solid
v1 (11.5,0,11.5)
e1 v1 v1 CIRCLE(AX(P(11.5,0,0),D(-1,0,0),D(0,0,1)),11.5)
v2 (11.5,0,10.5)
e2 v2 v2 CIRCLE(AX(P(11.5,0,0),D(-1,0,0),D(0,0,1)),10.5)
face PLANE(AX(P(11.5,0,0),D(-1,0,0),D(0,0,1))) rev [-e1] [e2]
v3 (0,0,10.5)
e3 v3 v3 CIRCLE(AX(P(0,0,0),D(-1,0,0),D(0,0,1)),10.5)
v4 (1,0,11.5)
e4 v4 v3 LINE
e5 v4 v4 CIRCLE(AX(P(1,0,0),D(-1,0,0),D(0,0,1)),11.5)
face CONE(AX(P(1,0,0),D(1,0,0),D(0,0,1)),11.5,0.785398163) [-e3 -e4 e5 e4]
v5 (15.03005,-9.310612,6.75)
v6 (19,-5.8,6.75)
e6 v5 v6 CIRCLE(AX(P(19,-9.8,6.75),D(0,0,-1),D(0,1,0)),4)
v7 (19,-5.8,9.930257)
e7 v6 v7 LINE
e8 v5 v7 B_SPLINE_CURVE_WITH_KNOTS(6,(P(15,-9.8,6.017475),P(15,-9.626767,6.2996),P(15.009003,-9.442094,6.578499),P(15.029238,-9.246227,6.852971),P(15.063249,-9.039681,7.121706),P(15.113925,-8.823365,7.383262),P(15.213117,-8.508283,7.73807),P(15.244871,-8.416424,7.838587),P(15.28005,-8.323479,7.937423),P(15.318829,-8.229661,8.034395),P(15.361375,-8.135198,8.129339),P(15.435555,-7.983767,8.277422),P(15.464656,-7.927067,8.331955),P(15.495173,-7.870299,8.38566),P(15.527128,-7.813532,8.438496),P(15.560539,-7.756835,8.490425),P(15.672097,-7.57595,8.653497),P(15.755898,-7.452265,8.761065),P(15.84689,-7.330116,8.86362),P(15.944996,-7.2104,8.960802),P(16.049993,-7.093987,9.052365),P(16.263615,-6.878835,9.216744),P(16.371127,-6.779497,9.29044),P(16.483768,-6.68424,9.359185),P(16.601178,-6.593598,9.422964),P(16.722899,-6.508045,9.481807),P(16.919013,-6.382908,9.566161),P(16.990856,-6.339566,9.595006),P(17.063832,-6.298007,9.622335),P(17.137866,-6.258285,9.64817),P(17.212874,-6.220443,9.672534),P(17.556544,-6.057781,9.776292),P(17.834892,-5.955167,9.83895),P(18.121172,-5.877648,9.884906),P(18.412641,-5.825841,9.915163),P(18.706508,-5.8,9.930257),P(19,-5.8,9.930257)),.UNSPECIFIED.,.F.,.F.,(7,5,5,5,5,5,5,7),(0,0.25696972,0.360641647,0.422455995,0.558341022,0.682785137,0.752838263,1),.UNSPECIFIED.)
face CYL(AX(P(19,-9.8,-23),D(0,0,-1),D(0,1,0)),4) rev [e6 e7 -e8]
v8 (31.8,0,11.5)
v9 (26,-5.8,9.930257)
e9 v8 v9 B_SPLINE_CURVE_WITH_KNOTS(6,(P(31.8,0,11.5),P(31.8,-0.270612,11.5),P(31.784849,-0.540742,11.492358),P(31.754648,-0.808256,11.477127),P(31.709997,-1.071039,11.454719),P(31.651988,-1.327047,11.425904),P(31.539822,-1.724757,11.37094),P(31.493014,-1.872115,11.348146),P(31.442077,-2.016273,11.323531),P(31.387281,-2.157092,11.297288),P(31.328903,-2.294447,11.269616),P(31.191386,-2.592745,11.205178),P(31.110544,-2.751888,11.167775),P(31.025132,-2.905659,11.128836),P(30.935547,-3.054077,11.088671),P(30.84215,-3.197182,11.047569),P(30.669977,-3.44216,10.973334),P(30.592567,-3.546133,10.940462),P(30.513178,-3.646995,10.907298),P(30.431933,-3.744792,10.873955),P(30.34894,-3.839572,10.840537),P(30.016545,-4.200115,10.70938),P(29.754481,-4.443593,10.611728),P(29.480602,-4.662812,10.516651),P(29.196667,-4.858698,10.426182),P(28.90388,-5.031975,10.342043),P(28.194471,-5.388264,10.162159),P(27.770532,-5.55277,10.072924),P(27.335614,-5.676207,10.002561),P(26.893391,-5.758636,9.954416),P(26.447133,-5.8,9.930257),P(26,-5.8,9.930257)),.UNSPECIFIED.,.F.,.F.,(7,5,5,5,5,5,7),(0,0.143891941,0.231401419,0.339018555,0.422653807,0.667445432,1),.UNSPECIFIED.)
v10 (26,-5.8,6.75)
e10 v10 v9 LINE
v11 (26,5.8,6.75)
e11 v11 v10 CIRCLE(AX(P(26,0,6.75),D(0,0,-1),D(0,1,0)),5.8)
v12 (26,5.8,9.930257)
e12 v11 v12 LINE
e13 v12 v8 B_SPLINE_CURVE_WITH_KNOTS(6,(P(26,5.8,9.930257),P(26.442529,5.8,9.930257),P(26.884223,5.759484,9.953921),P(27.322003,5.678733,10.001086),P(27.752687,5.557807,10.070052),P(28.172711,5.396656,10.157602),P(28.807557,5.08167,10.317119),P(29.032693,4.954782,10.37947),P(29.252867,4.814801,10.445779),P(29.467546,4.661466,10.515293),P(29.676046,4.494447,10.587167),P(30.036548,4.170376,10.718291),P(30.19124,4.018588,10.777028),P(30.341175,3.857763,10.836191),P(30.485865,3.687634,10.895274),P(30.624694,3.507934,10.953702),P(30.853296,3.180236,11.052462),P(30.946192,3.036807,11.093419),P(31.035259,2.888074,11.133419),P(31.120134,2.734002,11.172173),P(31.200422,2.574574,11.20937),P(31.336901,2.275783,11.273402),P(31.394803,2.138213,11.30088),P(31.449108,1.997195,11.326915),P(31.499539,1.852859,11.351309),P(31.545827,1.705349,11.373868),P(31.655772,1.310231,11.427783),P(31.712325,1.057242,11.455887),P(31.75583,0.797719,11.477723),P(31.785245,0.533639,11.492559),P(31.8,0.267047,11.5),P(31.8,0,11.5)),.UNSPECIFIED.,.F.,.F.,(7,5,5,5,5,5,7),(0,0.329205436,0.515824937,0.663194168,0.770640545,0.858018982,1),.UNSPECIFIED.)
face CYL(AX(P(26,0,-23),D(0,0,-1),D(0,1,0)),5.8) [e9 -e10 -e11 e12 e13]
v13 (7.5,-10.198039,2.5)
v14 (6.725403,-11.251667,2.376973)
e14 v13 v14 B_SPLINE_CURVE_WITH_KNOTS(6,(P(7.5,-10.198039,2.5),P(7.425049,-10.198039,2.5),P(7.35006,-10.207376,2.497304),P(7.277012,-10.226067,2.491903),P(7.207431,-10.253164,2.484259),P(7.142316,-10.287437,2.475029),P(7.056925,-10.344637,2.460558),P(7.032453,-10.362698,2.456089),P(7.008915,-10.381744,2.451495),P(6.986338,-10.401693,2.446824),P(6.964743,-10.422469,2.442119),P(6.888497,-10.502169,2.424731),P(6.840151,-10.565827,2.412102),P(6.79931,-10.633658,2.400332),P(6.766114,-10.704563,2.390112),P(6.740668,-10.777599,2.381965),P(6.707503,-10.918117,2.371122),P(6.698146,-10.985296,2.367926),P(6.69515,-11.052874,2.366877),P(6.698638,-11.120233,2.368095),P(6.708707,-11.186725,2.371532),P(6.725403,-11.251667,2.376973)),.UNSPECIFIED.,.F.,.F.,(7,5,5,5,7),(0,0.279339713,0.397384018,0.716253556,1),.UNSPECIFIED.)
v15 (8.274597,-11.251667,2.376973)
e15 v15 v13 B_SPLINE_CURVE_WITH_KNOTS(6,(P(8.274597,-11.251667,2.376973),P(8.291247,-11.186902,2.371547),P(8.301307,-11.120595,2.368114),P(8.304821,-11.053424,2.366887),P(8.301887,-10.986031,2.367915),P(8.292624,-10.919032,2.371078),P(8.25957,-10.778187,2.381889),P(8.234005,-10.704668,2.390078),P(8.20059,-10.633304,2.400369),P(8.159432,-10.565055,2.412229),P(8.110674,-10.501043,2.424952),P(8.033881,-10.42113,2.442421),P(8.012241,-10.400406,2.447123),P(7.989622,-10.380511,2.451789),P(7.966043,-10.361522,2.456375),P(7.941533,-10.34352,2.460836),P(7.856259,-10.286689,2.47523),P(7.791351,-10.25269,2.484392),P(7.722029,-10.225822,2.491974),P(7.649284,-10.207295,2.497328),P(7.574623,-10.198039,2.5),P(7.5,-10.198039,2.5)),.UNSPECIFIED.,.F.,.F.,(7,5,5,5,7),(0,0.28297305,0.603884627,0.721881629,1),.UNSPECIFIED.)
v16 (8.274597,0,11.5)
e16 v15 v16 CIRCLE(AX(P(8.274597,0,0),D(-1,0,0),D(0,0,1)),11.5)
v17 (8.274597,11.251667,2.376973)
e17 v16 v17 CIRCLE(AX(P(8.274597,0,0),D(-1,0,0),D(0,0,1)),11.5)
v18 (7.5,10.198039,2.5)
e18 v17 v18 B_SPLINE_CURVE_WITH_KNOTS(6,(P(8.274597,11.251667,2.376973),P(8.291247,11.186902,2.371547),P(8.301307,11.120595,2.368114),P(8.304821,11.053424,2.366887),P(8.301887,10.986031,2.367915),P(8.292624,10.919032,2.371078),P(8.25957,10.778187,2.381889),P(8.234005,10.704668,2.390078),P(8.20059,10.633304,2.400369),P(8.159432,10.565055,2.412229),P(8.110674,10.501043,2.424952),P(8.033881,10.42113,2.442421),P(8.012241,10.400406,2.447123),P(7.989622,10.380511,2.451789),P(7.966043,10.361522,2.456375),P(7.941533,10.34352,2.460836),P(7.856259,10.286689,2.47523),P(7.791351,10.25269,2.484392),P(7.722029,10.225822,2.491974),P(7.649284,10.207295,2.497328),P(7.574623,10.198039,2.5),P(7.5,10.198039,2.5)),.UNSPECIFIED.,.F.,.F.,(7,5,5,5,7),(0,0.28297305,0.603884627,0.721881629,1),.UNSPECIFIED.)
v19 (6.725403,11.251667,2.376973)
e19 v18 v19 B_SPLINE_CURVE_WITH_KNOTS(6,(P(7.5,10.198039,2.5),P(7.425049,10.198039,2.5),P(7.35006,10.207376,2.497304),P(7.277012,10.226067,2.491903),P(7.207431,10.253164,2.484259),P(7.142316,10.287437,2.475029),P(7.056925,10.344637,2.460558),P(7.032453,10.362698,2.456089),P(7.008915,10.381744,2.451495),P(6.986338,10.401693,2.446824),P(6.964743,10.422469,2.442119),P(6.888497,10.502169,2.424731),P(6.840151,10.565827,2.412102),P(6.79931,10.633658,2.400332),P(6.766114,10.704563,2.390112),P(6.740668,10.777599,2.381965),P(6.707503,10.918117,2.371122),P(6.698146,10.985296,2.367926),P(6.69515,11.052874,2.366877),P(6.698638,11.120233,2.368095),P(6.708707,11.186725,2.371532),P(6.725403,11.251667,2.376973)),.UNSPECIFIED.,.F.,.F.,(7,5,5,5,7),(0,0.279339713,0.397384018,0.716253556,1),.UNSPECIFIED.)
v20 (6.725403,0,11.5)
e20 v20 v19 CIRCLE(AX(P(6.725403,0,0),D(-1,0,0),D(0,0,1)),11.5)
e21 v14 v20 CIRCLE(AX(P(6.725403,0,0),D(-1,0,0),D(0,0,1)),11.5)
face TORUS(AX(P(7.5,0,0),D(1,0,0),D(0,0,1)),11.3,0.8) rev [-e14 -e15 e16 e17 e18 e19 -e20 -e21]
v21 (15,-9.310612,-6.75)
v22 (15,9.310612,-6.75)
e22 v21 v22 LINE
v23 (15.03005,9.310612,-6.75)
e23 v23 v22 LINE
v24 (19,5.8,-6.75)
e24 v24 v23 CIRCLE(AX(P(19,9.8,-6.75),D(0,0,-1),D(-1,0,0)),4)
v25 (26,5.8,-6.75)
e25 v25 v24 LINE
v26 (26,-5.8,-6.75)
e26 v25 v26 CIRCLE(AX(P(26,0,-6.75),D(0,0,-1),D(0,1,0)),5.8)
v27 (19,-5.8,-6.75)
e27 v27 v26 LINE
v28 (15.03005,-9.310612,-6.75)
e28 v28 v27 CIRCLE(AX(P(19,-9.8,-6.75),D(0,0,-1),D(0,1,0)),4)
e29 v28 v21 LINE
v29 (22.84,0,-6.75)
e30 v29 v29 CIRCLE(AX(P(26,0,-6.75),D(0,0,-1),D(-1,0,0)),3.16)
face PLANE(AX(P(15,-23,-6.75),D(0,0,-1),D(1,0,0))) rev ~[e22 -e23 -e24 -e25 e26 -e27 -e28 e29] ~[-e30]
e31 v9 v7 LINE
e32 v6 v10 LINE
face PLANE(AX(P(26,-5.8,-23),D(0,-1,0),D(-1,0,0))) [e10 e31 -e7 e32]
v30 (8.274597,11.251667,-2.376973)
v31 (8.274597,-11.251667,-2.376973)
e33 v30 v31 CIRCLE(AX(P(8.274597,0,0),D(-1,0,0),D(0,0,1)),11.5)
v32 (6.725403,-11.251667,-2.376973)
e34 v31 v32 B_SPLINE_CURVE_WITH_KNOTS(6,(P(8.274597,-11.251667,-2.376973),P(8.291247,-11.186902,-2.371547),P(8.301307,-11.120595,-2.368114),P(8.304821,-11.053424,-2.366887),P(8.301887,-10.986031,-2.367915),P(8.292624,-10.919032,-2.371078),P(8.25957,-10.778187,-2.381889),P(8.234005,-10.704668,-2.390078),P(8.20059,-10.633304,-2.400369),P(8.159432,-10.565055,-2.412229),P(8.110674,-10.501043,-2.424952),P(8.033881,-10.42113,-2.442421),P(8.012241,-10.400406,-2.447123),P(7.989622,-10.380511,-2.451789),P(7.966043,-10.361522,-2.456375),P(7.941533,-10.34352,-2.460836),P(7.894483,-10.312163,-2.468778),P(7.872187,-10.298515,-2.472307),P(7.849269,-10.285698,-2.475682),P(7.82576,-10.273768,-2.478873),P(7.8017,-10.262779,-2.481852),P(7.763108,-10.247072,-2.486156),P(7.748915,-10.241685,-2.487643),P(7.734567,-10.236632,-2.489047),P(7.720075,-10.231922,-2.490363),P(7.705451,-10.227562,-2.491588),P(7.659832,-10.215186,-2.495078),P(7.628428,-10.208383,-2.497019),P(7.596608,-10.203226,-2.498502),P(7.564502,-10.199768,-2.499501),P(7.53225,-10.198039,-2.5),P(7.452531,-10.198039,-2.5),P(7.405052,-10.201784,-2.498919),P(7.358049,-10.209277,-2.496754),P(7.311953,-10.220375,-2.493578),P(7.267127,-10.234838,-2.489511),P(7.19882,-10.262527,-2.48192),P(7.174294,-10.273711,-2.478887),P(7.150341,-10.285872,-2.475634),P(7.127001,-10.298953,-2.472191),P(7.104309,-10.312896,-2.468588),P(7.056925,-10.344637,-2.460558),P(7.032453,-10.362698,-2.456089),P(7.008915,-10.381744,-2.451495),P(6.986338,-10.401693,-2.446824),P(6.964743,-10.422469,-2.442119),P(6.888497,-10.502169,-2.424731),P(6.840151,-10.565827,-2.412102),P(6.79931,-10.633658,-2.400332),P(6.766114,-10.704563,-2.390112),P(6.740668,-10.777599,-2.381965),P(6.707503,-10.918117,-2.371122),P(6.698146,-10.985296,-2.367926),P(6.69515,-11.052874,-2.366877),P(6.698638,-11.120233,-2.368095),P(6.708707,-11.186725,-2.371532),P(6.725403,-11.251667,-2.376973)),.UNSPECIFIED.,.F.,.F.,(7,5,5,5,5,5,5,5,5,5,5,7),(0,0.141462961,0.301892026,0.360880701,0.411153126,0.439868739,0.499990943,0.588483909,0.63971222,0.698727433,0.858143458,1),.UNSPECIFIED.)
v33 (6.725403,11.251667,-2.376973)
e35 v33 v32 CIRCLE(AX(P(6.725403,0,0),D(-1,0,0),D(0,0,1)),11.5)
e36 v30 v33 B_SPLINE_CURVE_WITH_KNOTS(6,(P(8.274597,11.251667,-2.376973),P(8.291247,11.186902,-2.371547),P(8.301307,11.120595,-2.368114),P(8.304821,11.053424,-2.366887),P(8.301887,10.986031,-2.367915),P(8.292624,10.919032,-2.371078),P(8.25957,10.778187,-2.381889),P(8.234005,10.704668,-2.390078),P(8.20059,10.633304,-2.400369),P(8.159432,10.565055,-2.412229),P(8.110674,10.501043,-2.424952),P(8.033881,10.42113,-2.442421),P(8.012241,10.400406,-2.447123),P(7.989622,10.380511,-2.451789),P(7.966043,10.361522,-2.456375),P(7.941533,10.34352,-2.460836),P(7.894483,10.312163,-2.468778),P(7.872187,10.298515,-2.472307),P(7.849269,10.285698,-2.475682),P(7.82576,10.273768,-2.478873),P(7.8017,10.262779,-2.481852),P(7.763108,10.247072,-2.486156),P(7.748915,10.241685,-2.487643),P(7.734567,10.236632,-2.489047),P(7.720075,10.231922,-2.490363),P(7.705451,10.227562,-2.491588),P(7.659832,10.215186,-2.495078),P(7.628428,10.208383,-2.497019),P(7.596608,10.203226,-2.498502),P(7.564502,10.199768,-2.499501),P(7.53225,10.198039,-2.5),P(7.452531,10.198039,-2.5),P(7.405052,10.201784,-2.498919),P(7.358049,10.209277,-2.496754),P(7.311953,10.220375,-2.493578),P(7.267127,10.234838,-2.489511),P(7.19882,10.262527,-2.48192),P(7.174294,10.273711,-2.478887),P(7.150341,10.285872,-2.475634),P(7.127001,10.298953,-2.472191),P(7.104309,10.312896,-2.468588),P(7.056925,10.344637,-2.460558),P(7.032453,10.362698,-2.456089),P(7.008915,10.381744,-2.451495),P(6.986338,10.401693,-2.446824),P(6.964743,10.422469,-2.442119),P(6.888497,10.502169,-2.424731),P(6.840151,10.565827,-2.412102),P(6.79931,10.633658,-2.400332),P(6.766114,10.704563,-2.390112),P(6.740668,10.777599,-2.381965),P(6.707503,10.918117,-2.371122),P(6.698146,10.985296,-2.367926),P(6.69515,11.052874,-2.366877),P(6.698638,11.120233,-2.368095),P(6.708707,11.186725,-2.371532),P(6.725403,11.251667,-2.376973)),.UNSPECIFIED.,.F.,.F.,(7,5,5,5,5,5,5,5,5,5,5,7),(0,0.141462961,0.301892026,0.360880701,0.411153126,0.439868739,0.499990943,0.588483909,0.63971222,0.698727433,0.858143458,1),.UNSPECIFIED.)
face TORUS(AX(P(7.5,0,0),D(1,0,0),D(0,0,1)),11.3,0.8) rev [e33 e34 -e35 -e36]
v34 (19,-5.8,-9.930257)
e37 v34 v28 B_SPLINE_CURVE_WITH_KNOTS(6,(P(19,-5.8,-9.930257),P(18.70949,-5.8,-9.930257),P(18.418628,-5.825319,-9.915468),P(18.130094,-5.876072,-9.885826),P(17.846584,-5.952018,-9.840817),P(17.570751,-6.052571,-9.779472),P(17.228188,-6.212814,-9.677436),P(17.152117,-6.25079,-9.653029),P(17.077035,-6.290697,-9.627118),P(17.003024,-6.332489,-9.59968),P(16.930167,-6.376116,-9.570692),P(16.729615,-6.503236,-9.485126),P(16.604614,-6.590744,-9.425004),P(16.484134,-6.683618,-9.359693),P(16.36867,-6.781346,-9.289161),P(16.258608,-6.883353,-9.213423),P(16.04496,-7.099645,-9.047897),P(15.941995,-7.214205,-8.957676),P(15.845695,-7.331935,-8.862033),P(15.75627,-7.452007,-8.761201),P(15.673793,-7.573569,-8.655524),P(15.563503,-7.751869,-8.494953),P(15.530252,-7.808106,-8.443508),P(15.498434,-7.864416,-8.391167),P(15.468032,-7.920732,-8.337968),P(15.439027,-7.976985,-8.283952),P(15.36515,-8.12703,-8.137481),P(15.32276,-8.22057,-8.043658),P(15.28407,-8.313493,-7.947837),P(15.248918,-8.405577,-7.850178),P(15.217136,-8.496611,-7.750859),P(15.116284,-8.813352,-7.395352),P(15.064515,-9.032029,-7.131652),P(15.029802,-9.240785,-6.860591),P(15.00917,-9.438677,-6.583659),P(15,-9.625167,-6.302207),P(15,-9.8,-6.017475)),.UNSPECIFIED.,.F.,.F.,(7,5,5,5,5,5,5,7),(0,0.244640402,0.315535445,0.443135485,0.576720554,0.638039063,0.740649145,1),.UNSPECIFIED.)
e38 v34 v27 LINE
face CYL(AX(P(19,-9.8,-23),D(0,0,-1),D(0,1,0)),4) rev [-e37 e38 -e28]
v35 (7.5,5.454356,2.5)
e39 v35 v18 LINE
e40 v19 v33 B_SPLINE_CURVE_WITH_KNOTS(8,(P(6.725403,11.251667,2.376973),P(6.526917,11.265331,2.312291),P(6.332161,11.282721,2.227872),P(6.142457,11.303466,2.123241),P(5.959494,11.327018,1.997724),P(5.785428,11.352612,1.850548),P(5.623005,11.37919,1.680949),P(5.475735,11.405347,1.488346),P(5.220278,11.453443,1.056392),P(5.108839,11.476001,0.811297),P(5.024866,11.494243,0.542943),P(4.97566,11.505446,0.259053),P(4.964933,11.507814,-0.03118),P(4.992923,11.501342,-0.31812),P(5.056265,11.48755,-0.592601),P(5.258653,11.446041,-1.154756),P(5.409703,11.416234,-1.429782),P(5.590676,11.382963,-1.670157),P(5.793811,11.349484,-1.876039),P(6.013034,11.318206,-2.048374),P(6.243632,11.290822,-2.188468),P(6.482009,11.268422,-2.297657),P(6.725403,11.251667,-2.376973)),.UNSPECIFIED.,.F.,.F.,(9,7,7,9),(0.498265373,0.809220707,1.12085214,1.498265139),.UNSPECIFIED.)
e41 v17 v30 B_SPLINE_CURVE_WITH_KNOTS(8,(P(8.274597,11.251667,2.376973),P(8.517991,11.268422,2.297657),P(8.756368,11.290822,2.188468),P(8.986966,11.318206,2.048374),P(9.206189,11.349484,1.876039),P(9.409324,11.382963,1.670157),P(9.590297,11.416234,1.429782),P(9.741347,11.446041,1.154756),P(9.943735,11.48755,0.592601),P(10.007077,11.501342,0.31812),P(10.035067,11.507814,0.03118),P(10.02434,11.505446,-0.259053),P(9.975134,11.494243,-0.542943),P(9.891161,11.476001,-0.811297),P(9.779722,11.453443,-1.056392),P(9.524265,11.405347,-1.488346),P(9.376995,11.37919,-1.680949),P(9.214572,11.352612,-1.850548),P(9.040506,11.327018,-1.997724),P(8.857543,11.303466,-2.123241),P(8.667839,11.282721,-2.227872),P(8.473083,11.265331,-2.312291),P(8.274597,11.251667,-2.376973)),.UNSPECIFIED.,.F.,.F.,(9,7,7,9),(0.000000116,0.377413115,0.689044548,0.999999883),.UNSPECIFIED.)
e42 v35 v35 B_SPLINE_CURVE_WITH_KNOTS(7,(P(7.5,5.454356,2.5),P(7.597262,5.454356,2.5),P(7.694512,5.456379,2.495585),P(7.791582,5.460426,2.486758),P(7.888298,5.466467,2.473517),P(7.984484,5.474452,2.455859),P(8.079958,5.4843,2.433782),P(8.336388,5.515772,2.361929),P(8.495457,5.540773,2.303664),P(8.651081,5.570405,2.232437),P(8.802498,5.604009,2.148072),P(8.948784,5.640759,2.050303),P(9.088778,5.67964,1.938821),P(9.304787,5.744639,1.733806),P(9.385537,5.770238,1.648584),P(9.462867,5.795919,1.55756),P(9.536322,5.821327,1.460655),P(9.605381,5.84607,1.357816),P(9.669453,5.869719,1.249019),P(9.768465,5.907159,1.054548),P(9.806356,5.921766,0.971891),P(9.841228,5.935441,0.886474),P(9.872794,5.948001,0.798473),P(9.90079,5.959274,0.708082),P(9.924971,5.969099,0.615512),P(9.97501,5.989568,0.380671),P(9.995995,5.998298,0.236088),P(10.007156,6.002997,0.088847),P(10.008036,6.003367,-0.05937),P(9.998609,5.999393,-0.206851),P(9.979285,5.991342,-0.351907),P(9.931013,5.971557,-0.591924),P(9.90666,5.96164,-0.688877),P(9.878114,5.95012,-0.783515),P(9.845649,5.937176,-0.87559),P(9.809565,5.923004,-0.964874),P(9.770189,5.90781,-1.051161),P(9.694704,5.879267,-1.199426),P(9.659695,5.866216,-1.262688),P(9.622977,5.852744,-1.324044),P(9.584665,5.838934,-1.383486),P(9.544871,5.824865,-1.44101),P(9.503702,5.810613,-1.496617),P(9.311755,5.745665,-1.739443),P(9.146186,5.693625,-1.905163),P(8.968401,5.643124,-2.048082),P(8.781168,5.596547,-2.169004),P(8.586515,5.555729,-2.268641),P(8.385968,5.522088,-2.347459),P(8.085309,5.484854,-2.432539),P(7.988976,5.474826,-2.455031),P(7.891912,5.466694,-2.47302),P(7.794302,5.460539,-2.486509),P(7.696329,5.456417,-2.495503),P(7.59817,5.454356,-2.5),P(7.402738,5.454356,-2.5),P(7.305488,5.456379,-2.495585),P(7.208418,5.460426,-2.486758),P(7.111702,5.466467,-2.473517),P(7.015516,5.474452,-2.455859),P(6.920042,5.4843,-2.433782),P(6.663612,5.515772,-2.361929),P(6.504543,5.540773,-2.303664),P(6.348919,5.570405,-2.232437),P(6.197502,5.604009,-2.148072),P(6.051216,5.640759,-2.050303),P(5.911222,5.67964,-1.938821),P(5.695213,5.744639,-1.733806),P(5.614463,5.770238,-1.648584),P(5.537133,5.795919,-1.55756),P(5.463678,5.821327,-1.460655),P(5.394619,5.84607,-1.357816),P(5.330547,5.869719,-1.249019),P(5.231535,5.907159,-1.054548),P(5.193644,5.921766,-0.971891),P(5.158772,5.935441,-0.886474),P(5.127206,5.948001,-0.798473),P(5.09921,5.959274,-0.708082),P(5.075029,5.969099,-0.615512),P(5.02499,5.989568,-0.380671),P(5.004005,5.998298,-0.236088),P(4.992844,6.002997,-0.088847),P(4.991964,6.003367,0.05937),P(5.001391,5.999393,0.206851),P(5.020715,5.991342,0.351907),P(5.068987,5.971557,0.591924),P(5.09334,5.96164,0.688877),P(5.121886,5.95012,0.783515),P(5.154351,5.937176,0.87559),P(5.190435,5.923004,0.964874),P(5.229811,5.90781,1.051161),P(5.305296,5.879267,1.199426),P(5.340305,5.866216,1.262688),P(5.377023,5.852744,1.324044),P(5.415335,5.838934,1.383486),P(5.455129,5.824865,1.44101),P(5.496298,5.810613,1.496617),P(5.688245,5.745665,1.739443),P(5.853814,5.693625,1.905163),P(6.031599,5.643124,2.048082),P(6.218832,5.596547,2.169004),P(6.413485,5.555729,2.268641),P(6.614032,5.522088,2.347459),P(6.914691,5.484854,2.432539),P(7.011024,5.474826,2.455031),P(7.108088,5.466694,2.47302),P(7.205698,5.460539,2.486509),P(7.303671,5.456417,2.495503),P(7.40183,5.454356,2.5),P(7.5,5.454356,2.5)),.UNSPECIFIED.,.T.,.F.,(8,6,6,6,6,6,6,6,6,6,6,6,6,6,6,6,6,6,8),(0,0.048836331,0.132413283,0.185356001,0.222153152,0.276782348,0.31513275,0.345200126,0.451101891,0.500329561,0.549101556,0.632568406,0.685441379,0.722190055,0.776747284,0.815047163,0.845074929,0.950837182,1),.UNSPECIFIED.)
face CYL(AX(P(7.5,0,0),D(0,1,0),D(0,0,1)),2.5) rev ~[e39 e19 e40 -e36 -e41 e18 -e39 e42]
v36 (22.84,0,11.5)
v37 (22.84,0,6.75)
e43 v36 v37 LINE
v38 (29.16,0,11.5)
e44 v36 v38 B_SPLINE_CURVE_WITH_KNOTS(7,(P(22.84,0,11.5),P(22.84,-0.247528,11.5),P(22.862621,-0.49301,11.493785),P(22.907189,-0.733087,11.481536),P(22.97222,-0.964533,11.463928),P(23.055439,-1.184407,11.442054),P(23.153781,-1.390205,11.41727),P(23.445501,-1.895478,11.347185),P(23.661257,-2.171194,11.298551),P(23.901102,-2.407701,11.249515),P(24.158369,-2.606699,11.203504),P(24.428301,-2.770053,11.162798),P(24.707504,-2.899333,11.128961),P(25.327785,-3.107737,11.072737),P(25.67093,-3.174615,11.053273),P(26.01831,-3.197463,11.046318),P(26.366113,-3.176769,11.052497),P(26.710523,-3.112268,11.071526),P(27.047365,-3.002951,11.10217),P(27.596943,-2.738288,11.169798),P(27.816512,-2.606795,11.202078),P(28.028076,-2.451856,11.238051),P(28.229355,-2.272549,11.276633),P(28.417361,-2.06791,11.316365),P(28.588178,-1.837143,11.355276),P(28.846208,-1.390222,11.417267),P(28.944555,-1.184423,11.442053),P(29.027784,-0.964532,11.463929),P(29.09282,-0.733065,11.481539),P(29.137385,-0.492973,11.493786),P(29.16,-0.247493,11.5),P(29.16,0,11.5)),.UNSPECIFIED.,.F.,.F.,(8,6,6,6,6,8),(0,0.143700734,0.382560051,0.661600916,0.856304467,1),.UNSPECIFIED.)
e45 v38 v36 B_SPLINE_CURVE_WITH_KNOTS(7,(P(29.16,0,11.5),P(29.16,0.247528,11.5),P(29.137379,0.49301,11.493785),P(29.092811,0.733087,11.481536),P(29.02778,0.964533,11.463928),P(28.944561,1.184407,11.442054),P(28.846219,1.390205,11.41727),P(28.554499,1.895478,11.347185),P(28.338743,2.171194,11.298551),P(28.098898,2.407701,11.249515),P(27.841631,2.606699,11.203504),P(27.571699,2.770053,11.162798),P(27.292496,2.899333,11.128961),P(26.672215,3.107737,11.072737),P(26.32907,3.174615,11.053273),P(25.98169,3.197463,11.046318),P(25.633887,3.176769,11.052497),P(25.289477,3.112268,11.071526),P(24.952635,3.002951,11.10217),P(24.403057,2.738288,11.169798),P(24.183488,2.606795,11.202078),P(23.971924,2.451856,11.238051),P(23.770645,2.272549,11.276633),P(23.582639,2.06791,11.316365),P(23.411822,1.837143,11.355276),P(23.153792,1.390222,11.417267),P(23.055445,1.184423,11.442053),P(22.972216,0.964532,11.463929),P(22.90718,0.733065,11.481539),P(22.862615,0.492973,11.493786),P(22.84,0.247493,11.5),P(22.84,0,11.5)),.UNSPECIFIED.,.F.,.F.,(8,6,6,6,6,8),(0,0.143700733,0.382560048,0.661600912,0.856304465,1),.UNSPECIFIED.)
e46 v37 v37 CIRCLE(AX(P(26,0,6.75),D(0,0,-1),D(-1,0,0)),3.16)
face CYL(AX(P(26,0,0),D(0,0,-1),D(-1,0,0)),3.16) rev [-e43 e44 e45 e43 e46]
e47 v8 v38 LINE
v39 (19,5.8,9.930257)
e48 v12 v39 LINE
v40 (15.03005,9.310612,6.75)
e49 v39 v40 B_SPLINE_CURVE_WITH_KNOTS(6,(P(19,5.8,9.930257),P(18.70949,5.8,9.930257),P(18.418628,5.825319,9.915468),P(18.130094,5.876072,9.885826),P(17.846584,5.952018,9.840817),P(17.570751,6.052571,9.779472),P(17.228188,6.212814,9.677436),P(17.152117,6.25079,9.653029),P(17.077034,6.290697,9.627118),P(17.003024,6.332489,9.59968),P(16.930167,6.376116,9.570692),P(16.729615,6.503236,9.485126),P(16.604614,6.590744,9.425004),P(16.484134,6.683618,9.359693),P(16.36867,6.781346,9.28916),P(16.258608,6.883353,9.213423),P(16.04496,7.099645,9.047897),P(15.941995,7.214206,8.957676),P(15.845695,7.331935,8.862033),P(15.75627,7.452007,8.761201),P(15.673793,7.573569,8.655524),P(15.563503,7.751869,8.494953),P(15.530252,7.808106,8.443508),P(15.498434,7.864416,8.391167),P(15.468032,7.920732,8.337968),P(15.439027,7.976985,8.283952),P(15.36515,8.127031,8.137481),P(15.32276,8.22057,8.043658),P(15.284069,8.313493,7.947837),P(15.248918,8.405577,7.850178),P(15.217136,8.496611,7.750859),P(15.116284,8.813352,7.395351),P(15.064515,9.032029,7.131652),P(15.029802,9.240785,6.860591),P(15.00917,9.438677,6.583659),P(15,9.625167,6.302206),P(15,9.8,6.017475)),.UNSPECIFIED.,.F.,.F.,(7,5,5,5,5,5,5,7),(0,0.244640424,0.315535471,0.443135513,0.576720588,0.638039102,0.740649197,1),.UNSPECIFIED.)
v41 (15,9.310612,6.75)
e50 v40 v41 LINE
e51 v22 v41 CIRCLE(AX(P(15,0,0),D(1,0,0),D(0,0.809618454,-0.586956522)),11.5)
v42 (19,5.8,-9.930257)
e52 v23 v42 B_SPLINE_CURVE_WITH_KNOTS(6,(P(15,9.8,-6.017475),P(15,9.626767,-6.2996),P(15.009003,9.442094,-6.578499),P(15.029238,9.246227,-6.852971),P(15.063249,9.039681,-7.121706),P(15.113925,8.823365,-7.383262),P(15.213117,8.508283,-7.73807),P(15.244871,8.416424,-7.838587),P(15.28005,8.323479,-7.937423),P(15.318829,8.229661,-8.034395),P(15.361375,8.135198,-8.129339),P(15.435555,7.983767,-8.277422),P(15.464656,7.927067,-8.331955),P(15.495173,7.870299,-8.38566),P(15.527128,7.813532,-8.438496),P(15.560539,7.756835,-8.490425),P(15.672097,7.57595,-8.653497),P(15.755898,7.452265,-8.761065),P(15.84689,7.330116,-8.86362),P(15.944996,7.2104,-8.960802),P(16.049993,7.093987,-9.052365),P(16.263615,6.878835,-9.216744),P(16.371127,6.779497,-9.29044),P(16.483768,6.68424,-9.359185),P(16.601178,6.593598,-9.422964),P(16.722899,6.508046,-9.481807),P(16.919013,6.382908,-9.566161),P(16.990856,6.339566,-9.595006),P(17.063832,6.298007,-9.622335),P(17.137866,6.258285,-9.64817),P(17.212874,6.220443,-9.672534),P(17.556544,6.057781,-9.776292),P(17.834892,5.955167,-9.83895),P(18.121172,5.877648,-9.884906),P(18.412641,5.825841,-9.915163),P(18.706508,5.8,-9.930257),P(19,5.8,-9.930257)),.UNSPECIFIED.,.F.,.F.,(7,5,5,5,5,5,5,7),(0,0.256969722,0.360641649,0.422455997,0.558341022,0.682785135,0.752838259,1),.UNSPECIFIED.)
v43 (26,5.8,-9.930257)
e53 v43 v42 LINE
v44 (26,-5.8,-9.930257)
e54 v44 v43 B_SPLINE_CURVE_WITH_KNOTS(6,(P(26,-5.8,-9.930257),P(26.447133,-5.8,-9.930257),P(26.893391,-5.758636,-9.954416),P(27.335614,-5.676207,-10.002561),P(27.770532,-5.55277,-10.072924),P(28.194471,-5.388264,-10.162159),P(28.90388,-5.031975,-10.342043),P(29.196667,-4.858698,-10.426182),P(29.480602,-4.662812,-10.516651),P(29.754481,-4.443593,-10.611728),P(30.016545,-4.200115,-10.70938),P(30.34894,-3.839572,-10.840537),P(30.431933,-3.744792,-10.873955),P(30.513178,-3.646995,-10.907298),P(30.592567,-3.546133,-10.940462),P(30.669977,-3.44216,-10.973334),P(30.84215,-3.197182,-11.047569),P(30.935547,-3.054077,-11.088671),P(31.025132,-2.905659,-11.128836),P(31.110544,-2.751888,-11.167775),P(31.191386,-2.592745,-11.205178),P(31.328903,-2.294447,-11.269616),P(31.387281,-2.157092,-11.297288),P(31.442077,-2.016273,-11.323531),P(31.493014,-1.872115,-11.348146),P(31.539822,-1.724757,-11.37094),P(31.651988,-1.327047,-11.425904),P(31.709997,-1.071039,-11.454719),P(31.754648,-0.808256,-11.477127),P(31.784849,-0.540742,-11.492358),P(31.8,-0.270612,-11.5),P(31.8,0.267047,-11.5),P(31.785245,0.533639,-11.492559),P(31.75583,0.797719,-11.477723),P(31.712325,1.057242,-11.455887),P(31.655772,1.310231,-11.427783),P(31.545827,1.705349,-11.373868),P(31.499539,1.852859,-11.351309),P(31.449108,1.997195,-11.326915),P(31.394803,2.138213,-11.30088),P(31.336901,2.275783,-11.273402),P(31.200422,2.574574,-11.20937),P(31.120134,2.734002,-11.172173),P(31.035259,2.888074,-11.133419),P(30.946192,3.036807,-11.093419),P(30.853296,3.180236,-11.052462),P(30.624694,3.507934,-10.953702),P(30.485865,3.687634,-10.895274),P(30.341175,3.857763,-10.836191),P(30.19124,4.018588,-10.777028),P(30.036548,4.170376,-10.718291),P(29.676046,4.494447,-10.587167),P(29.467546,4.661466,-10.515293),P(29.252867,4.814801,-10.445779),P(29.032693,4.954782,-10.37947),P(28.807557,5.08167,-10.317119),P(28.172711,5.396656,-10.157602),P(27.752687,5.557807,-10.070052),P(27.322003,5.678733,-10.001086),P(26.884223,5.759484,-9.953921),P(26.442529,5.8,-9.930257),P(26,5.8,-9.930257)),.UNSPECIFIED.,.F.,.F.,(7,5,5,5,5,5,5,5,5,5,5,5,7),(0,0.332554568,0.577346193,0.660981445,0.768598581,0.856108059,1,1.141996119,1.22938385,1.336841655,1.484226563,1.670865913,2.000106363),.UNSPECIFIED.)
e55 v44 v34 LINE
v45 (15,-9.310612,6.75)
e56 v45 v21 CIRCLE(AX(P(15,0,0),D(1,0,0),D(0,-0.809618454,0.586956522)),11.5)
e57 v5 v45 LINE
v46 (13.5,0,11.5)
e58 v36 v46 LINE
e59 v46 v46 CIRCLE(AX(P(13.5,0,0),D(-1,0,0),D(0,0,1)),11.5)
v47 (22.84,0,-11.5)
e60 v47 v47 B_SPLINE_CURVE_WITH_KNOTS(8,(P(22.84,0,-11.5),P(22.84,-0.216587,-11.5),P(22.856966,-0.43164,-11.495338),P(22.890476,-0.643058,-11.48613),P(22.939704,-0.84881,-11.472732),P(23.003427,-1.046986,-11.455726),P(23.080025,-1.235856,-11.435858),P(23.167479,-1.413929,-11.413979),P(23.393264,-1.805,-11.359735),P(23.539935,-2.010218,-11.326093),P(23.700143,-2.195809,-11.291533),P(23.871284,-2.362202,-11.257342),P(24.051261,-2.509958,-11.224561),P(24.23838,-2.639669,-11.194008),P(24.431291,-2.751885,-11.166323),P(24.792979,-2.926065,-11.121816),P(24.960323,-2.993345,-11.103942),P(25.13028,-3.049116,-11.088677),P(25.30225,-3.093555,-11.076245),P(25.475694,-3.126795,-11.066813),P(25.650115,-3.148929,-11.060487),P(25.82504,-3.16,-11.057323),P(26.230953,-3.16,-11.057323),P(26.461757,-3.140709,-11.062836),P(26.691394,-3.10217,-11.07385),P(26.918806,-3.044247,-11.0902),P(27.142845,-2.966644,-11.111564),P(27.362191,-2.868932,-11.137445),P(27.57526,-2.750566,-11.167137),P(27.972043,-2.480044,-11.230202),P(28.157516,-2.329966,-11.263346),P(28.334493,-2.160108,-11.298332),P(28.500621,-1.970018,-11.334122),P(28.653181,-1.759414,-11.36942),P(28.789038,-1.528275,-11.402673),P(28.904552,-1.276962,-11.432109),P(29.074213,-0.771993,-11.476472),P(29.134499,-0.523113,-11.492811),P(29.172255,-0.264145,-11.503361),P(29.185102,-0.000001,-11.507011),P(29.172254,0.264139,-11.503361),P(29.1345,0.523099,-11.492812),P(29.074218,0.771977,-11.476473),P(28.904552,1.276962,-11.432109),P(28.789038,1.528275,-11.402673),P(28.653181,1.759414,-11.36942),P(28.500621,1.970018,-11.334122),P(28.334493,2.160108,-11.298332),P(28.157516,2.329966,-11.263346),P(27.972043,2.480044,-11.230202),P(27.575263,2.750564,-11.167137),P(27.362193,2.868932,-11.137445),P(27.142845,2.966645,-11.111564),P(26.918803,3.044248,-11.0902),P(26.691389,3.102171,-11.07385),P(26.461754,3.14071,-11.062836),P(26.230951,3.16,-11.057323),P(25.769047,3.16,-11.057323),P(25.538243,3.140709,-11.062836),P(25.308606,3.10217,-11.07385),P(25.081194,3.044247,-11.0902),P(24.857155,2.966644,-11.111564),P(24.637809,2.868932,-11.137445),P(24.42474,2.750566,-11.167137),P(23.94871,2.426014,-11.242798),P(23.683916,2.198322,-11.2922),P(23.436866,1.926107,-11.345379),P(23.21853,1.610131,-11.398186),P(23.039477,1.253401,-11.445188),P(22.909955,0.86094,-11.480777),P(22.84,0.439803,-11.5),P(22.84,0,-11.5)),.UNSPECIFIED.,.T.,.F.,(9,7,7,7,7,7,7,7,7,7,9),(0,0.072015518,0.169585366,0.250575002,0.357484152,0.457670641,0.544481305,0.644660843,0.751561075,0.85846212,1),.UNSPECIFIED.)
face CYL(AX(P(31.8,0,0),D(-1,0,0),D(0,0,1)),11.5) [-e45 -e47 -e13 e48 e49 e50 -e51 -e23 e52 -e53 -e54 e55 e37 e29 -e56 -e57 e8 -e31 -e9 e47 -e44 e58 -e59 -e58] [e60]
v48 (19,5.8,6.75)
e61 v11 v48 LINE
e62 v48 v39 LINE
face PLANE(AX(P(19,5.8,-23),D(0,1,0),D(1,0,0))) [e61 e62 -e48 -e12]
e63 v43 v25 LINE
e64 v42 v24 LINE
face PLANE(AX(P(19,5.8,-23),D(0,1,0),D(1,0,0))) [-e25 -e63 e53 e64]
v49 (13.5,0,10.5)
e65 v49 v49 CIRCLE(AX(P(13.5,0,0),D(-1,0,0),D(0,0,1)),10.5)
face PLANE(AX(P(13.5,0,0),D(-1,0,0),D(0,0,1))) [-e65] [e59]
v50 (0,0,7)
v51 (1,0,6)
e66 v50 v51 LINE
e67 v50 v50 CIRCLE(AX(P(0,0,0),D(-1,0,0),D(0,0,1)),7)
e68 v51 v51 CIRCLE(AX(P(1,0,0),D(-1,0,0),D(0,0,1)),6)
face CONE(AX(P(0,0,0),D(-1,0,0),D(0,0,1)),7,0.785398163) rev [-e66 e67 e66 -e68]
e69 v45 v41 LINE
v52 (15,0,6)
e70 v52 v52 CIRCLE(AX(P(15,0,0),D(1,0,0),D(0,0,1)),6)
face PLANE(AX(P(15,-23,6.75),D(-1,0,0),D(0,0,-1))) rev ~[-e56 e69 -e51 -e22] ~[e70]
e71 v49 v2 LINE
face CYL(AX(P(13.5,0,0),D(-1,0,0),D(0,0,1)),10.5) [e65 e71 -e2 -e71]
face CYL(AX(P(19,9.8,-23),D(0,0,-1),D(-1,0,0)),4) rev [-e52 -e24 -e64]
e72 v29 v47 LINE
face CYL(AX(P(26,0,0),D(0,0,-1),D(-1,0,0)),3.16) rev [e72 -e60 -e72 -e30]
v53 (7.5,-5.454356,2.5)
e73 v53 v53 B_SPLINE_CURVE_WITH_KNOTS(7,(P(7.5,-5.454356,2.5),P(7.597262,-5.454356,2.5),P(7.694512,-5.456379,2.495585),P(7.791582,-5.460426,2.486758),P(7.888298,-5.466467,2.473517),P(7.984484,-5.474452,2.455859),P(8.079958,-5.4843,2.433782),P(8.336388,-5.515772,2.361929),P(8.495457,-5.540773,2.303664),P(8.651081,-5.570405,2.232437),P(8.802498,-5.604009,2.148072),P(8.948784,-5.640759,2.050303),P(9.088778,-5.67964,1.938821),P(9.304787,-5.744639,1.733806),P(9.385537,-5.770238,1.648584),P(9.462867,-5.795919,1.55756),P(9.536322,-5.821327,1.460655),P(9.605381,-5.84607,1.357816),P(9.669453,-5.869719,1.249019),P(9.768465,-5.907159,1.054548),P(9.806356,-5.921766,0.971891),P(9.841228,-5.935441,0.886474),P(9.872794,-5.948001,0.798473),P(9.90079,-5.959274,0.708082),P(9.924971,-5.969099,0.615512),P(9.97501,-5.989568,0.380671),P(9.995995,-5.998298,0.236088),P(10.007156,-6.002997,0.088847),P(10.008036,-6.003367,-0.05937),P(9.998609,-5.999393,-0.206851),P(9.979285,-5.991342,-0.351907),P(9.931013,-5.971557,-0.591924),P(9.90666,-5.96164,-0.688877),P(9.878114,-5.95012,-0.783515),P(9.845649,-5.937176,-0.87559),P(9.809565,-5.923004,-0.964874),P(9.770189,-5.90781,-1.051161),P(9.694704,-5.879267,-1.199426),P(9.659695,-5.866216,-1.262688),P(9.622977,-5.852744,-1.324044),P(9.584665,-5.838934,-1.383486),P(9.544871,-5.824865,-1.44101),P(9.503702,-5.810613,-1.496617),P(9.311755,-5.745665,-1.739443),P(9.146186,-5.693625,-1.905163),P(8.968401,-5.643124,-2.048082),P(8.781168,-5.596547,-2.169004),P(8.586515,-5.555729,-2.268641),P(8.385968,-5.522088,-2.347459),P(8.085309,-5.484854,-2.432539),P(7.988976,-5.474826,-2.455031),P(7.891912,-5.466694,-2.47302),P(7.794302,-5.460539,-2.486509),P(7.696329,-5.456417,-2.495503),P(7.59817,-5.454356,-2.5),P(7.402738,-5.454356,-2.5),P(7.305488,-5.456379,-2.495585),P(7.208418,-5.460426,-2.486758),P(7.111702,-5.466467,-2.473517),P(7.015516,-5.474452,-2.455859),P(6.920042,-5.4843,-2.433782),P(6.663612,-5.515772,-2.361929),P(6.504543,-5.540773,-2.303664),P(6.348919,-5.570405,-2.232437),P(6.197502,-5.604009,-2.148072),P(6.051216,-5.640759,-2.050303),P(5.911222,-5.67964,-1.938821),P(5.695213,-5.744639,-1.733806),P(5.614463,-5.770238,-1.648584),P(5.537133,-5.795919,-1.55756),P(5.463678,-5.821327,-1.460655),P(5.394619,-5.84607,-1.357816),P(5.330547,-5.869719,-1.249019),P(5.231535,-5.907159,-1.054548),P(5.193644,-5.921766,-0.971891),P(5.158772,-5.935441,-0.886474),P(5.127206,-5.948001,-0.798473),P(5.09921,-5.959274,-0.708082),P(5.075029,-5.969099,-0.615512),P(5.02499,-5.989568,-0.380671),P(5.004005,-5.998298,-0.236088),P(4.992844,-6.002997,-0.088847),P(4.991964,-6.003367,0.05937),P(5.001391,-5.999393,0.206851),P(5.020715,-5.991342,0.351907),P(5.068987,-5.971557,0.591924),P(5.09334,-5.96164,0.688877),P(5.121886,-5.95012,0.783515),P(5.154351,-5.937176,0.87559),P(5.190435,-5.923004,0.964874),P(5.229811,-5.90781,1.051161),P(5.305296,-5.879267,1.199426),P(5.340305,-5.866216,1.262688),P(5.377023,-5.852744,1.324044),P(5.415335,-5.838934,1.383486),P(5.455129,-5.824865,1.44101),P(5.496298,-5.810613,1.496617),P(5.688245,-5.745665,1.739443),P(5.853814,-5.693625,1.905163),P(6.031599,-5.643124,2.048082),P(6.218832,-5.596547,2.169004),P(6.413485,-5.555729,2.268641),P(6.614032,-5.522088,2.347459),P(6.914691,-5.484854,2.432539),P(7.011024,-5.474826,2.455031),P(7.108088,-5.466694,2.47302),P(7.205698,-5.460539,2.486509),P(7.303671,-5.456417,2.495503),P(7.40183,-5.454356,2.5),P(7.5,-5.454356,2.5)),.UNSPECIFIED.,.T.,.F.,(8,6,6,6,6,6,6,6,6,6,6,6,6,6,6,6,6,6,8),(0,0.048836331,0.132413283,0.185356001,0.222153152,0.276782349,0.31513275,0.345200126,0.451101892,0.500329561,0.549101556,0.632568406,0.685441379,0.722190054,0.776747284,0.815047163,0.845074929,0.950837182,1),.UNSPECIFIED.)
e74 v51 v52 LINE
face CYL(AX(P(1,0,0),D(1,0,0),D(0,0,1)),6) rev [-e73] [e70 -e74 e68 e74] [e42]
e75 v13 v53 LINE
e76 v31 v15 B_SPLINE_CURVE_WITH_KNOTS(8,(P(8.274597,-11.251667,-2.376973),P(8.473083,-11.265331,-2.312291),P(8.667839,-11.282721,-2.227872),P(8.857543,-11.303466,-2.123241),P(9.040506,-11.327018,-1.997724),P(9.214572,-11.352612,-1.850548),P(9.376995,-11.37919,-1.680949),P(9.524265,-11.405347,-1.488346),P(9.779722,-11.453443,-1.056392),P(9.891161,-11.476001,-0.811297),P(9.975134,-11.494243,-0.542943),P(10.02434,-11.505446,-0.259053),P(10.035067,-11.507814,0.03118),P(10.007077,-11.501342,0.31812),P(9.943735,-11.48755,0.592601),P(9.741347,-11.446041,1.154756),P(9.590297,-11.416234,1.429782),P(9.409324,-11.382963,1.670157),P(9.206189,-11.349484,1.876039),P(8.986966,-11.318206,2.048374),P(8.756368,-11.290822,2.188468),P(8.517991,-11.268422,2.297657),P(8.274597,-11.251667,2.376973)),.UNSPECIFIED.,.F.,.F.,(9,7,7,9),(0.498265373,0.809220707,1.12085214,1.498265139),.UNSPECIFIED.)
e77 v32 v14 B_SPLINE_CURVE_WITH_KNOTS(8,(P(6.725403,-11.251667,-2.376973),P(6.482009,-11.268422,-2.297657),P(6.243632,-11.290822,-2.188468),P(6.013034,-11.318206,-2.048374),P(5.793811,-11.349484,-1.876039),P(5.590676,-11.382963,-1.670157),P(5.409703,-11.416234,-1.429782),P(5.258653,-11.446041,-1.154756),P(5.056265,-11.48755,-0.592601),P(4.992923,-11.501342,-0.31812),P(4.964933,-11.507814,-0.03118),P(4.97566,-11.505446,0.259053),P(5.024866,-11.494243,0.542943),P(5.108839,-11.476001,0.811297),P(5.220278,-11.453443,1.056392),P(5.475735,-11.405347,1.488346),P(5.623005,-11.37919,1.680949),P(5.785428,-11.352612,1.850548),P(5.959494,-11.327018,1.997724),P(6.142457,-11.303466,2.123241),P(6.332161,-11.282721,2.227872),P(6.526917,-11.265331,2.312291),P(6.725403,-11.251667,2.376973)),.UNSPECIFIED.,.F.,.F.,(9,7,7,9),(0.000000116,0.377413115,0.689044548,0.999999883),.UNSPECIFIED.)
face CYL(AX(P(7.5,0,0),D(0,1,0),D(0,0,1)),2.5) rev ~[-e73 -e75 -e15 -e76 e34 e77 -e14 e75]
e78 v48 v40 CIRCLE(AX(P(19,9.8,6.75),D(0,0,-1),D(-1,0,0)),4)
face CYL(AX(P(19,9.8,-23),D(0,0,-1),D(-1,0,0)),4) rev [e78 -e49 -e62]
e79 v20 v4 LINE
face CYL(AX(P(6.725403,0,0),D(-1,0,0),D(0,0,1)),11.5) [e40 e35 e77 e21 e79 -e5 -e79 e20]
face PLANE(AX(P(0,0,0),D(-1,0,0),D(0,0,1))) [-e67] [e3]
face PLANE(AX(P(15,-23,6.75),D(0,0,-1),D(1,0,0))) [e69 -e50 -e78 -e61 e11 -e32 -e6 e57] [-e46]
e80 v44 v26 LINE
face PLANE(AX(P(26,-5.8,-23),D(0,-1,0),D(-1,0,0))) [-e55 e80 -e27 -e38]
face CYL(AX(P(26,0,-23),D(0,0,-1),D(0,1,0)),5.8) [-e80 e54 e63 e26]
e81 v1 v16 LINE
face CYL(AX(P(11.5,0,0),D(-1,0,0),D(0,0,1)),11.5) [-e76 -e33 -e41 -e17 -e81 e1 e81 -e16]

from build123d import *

# Parameters (mm, degrees)
CUT_EXTRUDE1_DEPTH      = 23
CUT_EXTRUDE1_DEPTH_BACK = 23
CUT_EXTRUDE2_DEPTH      = 23
CUT_EXTRUDE2_DEPTH_BACK = 23
SKETCH3_W               = 26
SKETCH3_H               = 13.5
SKETCH4_W               = 23
SKETCH4_H               = 3.16
SKETCH5_W               = 2.5
SKETCH5_H               = 23


with BuildPart() as part:
    # Sketch1 → Revolve1 (revolve)
    with BuildSketch(Plane.XY):
        with BuildLine():
            Line((0, 10.5), (0, 7))
            Line((0, 7), (1, 6))
            Line((1, 6), (31.8, 6))
            Line((31.8, 6), (31.8, 11.5))
            Line((31.8, 11.5), (13.5, 11.5))
            Line((13.5, 11.5), (13.5, 10.5))
            Line((13.5, 10.5), (11.5, 10.5))
            Line((11.5, 10.5), (11.5, 11.5))
            Line((11.5, 11.5), (8.274596669, 11.5))
            ThreePointArc((8.274596669, 11.5), (7.5, 10.5), (6.725403331, 11.5))
            Line((6.725403331, 11.5), (1, 11.5))
            Line((1, 11.5), (0, 10.5))
        make_face()
    revolve(axis=Axis((31.8, 0, 0), (-1, 0, 0)))

    # Sketch2 → Cut-Extrude1 (cut, two sides: drawn at the far end of the back side and taken through both)
    with BuildSketch(Plane.XY.offset(-CUT_EXTRUDE1_DEPTH_BACK)):
        with BuildLine():
            Line((15, 12.5), (15, 9.8))
            ThreePointArc((15, 9.8), (16.171572875, 6.971572875), (19, 5.8))
            Line((19, 5.8), (26, 5.8))
            ThreePointArc((26, 5.8), (31.8, 0), (26, -5.8))
            Line((26, -5.8), (19, -5.8))
            ThreePointArc((19, -5.8), (16.171572875, -6.971572875), (15, -9.8))
            Line((15, -9.8), (15, -12.5))
            Line((15, -12.5), (41, -12.5))
            Line((41, -12.5), (41, 12.5))
            Line((41, 12.5), (15, 12.5))
        make_face()
    extrude(amount=CUT_EXTRUDE1_DEPTH + CUT_EXTRUDE1_DEPTH_BACK, mode=Mode.SUBTRACT)

    # Sketch3 → Cut-Extrude2 (cut, two sides: drawn at the far end of the back side and taken through both)
    with BuildSketch(Plane(origin=(0, 0, 0), x_dir=(1, 0, 0), z_dir=(0, 1, 0)).offset(-CUT_EXTRUDE2_DEPTH_BACK)):
        with Locations((28, 0)):
            Rectangle(SKETCH3_W, SKETCH3_H)
    extrude(amount=CUT_EXTRUDE2_DEPTH + CUT_EXTRUDE2_DEPTH_BACK, mode=Mode.SUBTRACT)

    # Sketch4 → Cut-Revolve1 (revolve, cut)
    with BuildSketch(Plane(origin=(26, 0, 0), x_dir=(0, 0, -1), z_dir=(1, 0, 0))):
        with Locations((0, 1.58)):
            Rectangle(SKETCH4_W, SKETCH4_H)
    revolve(axis=Axis((26, 0, -11.5), (0, 0, 1)), mode=Mode.SUBTRACT)

    # Sketch5 → Cut-Revolve2 (revolve, cut)
    with BuildSketch(Plane(origin=(7.5, 0, 0), x_dir=(0, 0, -1), z_dir=(1, 0, 0))):
        with Locations((1.25, 0)):
            Rectangle(SKETCH5_W, SKETCH5_H)
    revolve(axis=Axis((7.5, -11.5, 0), (0, 1, 0)), mode=Mode.SUBTRACT)


solid = part.part
